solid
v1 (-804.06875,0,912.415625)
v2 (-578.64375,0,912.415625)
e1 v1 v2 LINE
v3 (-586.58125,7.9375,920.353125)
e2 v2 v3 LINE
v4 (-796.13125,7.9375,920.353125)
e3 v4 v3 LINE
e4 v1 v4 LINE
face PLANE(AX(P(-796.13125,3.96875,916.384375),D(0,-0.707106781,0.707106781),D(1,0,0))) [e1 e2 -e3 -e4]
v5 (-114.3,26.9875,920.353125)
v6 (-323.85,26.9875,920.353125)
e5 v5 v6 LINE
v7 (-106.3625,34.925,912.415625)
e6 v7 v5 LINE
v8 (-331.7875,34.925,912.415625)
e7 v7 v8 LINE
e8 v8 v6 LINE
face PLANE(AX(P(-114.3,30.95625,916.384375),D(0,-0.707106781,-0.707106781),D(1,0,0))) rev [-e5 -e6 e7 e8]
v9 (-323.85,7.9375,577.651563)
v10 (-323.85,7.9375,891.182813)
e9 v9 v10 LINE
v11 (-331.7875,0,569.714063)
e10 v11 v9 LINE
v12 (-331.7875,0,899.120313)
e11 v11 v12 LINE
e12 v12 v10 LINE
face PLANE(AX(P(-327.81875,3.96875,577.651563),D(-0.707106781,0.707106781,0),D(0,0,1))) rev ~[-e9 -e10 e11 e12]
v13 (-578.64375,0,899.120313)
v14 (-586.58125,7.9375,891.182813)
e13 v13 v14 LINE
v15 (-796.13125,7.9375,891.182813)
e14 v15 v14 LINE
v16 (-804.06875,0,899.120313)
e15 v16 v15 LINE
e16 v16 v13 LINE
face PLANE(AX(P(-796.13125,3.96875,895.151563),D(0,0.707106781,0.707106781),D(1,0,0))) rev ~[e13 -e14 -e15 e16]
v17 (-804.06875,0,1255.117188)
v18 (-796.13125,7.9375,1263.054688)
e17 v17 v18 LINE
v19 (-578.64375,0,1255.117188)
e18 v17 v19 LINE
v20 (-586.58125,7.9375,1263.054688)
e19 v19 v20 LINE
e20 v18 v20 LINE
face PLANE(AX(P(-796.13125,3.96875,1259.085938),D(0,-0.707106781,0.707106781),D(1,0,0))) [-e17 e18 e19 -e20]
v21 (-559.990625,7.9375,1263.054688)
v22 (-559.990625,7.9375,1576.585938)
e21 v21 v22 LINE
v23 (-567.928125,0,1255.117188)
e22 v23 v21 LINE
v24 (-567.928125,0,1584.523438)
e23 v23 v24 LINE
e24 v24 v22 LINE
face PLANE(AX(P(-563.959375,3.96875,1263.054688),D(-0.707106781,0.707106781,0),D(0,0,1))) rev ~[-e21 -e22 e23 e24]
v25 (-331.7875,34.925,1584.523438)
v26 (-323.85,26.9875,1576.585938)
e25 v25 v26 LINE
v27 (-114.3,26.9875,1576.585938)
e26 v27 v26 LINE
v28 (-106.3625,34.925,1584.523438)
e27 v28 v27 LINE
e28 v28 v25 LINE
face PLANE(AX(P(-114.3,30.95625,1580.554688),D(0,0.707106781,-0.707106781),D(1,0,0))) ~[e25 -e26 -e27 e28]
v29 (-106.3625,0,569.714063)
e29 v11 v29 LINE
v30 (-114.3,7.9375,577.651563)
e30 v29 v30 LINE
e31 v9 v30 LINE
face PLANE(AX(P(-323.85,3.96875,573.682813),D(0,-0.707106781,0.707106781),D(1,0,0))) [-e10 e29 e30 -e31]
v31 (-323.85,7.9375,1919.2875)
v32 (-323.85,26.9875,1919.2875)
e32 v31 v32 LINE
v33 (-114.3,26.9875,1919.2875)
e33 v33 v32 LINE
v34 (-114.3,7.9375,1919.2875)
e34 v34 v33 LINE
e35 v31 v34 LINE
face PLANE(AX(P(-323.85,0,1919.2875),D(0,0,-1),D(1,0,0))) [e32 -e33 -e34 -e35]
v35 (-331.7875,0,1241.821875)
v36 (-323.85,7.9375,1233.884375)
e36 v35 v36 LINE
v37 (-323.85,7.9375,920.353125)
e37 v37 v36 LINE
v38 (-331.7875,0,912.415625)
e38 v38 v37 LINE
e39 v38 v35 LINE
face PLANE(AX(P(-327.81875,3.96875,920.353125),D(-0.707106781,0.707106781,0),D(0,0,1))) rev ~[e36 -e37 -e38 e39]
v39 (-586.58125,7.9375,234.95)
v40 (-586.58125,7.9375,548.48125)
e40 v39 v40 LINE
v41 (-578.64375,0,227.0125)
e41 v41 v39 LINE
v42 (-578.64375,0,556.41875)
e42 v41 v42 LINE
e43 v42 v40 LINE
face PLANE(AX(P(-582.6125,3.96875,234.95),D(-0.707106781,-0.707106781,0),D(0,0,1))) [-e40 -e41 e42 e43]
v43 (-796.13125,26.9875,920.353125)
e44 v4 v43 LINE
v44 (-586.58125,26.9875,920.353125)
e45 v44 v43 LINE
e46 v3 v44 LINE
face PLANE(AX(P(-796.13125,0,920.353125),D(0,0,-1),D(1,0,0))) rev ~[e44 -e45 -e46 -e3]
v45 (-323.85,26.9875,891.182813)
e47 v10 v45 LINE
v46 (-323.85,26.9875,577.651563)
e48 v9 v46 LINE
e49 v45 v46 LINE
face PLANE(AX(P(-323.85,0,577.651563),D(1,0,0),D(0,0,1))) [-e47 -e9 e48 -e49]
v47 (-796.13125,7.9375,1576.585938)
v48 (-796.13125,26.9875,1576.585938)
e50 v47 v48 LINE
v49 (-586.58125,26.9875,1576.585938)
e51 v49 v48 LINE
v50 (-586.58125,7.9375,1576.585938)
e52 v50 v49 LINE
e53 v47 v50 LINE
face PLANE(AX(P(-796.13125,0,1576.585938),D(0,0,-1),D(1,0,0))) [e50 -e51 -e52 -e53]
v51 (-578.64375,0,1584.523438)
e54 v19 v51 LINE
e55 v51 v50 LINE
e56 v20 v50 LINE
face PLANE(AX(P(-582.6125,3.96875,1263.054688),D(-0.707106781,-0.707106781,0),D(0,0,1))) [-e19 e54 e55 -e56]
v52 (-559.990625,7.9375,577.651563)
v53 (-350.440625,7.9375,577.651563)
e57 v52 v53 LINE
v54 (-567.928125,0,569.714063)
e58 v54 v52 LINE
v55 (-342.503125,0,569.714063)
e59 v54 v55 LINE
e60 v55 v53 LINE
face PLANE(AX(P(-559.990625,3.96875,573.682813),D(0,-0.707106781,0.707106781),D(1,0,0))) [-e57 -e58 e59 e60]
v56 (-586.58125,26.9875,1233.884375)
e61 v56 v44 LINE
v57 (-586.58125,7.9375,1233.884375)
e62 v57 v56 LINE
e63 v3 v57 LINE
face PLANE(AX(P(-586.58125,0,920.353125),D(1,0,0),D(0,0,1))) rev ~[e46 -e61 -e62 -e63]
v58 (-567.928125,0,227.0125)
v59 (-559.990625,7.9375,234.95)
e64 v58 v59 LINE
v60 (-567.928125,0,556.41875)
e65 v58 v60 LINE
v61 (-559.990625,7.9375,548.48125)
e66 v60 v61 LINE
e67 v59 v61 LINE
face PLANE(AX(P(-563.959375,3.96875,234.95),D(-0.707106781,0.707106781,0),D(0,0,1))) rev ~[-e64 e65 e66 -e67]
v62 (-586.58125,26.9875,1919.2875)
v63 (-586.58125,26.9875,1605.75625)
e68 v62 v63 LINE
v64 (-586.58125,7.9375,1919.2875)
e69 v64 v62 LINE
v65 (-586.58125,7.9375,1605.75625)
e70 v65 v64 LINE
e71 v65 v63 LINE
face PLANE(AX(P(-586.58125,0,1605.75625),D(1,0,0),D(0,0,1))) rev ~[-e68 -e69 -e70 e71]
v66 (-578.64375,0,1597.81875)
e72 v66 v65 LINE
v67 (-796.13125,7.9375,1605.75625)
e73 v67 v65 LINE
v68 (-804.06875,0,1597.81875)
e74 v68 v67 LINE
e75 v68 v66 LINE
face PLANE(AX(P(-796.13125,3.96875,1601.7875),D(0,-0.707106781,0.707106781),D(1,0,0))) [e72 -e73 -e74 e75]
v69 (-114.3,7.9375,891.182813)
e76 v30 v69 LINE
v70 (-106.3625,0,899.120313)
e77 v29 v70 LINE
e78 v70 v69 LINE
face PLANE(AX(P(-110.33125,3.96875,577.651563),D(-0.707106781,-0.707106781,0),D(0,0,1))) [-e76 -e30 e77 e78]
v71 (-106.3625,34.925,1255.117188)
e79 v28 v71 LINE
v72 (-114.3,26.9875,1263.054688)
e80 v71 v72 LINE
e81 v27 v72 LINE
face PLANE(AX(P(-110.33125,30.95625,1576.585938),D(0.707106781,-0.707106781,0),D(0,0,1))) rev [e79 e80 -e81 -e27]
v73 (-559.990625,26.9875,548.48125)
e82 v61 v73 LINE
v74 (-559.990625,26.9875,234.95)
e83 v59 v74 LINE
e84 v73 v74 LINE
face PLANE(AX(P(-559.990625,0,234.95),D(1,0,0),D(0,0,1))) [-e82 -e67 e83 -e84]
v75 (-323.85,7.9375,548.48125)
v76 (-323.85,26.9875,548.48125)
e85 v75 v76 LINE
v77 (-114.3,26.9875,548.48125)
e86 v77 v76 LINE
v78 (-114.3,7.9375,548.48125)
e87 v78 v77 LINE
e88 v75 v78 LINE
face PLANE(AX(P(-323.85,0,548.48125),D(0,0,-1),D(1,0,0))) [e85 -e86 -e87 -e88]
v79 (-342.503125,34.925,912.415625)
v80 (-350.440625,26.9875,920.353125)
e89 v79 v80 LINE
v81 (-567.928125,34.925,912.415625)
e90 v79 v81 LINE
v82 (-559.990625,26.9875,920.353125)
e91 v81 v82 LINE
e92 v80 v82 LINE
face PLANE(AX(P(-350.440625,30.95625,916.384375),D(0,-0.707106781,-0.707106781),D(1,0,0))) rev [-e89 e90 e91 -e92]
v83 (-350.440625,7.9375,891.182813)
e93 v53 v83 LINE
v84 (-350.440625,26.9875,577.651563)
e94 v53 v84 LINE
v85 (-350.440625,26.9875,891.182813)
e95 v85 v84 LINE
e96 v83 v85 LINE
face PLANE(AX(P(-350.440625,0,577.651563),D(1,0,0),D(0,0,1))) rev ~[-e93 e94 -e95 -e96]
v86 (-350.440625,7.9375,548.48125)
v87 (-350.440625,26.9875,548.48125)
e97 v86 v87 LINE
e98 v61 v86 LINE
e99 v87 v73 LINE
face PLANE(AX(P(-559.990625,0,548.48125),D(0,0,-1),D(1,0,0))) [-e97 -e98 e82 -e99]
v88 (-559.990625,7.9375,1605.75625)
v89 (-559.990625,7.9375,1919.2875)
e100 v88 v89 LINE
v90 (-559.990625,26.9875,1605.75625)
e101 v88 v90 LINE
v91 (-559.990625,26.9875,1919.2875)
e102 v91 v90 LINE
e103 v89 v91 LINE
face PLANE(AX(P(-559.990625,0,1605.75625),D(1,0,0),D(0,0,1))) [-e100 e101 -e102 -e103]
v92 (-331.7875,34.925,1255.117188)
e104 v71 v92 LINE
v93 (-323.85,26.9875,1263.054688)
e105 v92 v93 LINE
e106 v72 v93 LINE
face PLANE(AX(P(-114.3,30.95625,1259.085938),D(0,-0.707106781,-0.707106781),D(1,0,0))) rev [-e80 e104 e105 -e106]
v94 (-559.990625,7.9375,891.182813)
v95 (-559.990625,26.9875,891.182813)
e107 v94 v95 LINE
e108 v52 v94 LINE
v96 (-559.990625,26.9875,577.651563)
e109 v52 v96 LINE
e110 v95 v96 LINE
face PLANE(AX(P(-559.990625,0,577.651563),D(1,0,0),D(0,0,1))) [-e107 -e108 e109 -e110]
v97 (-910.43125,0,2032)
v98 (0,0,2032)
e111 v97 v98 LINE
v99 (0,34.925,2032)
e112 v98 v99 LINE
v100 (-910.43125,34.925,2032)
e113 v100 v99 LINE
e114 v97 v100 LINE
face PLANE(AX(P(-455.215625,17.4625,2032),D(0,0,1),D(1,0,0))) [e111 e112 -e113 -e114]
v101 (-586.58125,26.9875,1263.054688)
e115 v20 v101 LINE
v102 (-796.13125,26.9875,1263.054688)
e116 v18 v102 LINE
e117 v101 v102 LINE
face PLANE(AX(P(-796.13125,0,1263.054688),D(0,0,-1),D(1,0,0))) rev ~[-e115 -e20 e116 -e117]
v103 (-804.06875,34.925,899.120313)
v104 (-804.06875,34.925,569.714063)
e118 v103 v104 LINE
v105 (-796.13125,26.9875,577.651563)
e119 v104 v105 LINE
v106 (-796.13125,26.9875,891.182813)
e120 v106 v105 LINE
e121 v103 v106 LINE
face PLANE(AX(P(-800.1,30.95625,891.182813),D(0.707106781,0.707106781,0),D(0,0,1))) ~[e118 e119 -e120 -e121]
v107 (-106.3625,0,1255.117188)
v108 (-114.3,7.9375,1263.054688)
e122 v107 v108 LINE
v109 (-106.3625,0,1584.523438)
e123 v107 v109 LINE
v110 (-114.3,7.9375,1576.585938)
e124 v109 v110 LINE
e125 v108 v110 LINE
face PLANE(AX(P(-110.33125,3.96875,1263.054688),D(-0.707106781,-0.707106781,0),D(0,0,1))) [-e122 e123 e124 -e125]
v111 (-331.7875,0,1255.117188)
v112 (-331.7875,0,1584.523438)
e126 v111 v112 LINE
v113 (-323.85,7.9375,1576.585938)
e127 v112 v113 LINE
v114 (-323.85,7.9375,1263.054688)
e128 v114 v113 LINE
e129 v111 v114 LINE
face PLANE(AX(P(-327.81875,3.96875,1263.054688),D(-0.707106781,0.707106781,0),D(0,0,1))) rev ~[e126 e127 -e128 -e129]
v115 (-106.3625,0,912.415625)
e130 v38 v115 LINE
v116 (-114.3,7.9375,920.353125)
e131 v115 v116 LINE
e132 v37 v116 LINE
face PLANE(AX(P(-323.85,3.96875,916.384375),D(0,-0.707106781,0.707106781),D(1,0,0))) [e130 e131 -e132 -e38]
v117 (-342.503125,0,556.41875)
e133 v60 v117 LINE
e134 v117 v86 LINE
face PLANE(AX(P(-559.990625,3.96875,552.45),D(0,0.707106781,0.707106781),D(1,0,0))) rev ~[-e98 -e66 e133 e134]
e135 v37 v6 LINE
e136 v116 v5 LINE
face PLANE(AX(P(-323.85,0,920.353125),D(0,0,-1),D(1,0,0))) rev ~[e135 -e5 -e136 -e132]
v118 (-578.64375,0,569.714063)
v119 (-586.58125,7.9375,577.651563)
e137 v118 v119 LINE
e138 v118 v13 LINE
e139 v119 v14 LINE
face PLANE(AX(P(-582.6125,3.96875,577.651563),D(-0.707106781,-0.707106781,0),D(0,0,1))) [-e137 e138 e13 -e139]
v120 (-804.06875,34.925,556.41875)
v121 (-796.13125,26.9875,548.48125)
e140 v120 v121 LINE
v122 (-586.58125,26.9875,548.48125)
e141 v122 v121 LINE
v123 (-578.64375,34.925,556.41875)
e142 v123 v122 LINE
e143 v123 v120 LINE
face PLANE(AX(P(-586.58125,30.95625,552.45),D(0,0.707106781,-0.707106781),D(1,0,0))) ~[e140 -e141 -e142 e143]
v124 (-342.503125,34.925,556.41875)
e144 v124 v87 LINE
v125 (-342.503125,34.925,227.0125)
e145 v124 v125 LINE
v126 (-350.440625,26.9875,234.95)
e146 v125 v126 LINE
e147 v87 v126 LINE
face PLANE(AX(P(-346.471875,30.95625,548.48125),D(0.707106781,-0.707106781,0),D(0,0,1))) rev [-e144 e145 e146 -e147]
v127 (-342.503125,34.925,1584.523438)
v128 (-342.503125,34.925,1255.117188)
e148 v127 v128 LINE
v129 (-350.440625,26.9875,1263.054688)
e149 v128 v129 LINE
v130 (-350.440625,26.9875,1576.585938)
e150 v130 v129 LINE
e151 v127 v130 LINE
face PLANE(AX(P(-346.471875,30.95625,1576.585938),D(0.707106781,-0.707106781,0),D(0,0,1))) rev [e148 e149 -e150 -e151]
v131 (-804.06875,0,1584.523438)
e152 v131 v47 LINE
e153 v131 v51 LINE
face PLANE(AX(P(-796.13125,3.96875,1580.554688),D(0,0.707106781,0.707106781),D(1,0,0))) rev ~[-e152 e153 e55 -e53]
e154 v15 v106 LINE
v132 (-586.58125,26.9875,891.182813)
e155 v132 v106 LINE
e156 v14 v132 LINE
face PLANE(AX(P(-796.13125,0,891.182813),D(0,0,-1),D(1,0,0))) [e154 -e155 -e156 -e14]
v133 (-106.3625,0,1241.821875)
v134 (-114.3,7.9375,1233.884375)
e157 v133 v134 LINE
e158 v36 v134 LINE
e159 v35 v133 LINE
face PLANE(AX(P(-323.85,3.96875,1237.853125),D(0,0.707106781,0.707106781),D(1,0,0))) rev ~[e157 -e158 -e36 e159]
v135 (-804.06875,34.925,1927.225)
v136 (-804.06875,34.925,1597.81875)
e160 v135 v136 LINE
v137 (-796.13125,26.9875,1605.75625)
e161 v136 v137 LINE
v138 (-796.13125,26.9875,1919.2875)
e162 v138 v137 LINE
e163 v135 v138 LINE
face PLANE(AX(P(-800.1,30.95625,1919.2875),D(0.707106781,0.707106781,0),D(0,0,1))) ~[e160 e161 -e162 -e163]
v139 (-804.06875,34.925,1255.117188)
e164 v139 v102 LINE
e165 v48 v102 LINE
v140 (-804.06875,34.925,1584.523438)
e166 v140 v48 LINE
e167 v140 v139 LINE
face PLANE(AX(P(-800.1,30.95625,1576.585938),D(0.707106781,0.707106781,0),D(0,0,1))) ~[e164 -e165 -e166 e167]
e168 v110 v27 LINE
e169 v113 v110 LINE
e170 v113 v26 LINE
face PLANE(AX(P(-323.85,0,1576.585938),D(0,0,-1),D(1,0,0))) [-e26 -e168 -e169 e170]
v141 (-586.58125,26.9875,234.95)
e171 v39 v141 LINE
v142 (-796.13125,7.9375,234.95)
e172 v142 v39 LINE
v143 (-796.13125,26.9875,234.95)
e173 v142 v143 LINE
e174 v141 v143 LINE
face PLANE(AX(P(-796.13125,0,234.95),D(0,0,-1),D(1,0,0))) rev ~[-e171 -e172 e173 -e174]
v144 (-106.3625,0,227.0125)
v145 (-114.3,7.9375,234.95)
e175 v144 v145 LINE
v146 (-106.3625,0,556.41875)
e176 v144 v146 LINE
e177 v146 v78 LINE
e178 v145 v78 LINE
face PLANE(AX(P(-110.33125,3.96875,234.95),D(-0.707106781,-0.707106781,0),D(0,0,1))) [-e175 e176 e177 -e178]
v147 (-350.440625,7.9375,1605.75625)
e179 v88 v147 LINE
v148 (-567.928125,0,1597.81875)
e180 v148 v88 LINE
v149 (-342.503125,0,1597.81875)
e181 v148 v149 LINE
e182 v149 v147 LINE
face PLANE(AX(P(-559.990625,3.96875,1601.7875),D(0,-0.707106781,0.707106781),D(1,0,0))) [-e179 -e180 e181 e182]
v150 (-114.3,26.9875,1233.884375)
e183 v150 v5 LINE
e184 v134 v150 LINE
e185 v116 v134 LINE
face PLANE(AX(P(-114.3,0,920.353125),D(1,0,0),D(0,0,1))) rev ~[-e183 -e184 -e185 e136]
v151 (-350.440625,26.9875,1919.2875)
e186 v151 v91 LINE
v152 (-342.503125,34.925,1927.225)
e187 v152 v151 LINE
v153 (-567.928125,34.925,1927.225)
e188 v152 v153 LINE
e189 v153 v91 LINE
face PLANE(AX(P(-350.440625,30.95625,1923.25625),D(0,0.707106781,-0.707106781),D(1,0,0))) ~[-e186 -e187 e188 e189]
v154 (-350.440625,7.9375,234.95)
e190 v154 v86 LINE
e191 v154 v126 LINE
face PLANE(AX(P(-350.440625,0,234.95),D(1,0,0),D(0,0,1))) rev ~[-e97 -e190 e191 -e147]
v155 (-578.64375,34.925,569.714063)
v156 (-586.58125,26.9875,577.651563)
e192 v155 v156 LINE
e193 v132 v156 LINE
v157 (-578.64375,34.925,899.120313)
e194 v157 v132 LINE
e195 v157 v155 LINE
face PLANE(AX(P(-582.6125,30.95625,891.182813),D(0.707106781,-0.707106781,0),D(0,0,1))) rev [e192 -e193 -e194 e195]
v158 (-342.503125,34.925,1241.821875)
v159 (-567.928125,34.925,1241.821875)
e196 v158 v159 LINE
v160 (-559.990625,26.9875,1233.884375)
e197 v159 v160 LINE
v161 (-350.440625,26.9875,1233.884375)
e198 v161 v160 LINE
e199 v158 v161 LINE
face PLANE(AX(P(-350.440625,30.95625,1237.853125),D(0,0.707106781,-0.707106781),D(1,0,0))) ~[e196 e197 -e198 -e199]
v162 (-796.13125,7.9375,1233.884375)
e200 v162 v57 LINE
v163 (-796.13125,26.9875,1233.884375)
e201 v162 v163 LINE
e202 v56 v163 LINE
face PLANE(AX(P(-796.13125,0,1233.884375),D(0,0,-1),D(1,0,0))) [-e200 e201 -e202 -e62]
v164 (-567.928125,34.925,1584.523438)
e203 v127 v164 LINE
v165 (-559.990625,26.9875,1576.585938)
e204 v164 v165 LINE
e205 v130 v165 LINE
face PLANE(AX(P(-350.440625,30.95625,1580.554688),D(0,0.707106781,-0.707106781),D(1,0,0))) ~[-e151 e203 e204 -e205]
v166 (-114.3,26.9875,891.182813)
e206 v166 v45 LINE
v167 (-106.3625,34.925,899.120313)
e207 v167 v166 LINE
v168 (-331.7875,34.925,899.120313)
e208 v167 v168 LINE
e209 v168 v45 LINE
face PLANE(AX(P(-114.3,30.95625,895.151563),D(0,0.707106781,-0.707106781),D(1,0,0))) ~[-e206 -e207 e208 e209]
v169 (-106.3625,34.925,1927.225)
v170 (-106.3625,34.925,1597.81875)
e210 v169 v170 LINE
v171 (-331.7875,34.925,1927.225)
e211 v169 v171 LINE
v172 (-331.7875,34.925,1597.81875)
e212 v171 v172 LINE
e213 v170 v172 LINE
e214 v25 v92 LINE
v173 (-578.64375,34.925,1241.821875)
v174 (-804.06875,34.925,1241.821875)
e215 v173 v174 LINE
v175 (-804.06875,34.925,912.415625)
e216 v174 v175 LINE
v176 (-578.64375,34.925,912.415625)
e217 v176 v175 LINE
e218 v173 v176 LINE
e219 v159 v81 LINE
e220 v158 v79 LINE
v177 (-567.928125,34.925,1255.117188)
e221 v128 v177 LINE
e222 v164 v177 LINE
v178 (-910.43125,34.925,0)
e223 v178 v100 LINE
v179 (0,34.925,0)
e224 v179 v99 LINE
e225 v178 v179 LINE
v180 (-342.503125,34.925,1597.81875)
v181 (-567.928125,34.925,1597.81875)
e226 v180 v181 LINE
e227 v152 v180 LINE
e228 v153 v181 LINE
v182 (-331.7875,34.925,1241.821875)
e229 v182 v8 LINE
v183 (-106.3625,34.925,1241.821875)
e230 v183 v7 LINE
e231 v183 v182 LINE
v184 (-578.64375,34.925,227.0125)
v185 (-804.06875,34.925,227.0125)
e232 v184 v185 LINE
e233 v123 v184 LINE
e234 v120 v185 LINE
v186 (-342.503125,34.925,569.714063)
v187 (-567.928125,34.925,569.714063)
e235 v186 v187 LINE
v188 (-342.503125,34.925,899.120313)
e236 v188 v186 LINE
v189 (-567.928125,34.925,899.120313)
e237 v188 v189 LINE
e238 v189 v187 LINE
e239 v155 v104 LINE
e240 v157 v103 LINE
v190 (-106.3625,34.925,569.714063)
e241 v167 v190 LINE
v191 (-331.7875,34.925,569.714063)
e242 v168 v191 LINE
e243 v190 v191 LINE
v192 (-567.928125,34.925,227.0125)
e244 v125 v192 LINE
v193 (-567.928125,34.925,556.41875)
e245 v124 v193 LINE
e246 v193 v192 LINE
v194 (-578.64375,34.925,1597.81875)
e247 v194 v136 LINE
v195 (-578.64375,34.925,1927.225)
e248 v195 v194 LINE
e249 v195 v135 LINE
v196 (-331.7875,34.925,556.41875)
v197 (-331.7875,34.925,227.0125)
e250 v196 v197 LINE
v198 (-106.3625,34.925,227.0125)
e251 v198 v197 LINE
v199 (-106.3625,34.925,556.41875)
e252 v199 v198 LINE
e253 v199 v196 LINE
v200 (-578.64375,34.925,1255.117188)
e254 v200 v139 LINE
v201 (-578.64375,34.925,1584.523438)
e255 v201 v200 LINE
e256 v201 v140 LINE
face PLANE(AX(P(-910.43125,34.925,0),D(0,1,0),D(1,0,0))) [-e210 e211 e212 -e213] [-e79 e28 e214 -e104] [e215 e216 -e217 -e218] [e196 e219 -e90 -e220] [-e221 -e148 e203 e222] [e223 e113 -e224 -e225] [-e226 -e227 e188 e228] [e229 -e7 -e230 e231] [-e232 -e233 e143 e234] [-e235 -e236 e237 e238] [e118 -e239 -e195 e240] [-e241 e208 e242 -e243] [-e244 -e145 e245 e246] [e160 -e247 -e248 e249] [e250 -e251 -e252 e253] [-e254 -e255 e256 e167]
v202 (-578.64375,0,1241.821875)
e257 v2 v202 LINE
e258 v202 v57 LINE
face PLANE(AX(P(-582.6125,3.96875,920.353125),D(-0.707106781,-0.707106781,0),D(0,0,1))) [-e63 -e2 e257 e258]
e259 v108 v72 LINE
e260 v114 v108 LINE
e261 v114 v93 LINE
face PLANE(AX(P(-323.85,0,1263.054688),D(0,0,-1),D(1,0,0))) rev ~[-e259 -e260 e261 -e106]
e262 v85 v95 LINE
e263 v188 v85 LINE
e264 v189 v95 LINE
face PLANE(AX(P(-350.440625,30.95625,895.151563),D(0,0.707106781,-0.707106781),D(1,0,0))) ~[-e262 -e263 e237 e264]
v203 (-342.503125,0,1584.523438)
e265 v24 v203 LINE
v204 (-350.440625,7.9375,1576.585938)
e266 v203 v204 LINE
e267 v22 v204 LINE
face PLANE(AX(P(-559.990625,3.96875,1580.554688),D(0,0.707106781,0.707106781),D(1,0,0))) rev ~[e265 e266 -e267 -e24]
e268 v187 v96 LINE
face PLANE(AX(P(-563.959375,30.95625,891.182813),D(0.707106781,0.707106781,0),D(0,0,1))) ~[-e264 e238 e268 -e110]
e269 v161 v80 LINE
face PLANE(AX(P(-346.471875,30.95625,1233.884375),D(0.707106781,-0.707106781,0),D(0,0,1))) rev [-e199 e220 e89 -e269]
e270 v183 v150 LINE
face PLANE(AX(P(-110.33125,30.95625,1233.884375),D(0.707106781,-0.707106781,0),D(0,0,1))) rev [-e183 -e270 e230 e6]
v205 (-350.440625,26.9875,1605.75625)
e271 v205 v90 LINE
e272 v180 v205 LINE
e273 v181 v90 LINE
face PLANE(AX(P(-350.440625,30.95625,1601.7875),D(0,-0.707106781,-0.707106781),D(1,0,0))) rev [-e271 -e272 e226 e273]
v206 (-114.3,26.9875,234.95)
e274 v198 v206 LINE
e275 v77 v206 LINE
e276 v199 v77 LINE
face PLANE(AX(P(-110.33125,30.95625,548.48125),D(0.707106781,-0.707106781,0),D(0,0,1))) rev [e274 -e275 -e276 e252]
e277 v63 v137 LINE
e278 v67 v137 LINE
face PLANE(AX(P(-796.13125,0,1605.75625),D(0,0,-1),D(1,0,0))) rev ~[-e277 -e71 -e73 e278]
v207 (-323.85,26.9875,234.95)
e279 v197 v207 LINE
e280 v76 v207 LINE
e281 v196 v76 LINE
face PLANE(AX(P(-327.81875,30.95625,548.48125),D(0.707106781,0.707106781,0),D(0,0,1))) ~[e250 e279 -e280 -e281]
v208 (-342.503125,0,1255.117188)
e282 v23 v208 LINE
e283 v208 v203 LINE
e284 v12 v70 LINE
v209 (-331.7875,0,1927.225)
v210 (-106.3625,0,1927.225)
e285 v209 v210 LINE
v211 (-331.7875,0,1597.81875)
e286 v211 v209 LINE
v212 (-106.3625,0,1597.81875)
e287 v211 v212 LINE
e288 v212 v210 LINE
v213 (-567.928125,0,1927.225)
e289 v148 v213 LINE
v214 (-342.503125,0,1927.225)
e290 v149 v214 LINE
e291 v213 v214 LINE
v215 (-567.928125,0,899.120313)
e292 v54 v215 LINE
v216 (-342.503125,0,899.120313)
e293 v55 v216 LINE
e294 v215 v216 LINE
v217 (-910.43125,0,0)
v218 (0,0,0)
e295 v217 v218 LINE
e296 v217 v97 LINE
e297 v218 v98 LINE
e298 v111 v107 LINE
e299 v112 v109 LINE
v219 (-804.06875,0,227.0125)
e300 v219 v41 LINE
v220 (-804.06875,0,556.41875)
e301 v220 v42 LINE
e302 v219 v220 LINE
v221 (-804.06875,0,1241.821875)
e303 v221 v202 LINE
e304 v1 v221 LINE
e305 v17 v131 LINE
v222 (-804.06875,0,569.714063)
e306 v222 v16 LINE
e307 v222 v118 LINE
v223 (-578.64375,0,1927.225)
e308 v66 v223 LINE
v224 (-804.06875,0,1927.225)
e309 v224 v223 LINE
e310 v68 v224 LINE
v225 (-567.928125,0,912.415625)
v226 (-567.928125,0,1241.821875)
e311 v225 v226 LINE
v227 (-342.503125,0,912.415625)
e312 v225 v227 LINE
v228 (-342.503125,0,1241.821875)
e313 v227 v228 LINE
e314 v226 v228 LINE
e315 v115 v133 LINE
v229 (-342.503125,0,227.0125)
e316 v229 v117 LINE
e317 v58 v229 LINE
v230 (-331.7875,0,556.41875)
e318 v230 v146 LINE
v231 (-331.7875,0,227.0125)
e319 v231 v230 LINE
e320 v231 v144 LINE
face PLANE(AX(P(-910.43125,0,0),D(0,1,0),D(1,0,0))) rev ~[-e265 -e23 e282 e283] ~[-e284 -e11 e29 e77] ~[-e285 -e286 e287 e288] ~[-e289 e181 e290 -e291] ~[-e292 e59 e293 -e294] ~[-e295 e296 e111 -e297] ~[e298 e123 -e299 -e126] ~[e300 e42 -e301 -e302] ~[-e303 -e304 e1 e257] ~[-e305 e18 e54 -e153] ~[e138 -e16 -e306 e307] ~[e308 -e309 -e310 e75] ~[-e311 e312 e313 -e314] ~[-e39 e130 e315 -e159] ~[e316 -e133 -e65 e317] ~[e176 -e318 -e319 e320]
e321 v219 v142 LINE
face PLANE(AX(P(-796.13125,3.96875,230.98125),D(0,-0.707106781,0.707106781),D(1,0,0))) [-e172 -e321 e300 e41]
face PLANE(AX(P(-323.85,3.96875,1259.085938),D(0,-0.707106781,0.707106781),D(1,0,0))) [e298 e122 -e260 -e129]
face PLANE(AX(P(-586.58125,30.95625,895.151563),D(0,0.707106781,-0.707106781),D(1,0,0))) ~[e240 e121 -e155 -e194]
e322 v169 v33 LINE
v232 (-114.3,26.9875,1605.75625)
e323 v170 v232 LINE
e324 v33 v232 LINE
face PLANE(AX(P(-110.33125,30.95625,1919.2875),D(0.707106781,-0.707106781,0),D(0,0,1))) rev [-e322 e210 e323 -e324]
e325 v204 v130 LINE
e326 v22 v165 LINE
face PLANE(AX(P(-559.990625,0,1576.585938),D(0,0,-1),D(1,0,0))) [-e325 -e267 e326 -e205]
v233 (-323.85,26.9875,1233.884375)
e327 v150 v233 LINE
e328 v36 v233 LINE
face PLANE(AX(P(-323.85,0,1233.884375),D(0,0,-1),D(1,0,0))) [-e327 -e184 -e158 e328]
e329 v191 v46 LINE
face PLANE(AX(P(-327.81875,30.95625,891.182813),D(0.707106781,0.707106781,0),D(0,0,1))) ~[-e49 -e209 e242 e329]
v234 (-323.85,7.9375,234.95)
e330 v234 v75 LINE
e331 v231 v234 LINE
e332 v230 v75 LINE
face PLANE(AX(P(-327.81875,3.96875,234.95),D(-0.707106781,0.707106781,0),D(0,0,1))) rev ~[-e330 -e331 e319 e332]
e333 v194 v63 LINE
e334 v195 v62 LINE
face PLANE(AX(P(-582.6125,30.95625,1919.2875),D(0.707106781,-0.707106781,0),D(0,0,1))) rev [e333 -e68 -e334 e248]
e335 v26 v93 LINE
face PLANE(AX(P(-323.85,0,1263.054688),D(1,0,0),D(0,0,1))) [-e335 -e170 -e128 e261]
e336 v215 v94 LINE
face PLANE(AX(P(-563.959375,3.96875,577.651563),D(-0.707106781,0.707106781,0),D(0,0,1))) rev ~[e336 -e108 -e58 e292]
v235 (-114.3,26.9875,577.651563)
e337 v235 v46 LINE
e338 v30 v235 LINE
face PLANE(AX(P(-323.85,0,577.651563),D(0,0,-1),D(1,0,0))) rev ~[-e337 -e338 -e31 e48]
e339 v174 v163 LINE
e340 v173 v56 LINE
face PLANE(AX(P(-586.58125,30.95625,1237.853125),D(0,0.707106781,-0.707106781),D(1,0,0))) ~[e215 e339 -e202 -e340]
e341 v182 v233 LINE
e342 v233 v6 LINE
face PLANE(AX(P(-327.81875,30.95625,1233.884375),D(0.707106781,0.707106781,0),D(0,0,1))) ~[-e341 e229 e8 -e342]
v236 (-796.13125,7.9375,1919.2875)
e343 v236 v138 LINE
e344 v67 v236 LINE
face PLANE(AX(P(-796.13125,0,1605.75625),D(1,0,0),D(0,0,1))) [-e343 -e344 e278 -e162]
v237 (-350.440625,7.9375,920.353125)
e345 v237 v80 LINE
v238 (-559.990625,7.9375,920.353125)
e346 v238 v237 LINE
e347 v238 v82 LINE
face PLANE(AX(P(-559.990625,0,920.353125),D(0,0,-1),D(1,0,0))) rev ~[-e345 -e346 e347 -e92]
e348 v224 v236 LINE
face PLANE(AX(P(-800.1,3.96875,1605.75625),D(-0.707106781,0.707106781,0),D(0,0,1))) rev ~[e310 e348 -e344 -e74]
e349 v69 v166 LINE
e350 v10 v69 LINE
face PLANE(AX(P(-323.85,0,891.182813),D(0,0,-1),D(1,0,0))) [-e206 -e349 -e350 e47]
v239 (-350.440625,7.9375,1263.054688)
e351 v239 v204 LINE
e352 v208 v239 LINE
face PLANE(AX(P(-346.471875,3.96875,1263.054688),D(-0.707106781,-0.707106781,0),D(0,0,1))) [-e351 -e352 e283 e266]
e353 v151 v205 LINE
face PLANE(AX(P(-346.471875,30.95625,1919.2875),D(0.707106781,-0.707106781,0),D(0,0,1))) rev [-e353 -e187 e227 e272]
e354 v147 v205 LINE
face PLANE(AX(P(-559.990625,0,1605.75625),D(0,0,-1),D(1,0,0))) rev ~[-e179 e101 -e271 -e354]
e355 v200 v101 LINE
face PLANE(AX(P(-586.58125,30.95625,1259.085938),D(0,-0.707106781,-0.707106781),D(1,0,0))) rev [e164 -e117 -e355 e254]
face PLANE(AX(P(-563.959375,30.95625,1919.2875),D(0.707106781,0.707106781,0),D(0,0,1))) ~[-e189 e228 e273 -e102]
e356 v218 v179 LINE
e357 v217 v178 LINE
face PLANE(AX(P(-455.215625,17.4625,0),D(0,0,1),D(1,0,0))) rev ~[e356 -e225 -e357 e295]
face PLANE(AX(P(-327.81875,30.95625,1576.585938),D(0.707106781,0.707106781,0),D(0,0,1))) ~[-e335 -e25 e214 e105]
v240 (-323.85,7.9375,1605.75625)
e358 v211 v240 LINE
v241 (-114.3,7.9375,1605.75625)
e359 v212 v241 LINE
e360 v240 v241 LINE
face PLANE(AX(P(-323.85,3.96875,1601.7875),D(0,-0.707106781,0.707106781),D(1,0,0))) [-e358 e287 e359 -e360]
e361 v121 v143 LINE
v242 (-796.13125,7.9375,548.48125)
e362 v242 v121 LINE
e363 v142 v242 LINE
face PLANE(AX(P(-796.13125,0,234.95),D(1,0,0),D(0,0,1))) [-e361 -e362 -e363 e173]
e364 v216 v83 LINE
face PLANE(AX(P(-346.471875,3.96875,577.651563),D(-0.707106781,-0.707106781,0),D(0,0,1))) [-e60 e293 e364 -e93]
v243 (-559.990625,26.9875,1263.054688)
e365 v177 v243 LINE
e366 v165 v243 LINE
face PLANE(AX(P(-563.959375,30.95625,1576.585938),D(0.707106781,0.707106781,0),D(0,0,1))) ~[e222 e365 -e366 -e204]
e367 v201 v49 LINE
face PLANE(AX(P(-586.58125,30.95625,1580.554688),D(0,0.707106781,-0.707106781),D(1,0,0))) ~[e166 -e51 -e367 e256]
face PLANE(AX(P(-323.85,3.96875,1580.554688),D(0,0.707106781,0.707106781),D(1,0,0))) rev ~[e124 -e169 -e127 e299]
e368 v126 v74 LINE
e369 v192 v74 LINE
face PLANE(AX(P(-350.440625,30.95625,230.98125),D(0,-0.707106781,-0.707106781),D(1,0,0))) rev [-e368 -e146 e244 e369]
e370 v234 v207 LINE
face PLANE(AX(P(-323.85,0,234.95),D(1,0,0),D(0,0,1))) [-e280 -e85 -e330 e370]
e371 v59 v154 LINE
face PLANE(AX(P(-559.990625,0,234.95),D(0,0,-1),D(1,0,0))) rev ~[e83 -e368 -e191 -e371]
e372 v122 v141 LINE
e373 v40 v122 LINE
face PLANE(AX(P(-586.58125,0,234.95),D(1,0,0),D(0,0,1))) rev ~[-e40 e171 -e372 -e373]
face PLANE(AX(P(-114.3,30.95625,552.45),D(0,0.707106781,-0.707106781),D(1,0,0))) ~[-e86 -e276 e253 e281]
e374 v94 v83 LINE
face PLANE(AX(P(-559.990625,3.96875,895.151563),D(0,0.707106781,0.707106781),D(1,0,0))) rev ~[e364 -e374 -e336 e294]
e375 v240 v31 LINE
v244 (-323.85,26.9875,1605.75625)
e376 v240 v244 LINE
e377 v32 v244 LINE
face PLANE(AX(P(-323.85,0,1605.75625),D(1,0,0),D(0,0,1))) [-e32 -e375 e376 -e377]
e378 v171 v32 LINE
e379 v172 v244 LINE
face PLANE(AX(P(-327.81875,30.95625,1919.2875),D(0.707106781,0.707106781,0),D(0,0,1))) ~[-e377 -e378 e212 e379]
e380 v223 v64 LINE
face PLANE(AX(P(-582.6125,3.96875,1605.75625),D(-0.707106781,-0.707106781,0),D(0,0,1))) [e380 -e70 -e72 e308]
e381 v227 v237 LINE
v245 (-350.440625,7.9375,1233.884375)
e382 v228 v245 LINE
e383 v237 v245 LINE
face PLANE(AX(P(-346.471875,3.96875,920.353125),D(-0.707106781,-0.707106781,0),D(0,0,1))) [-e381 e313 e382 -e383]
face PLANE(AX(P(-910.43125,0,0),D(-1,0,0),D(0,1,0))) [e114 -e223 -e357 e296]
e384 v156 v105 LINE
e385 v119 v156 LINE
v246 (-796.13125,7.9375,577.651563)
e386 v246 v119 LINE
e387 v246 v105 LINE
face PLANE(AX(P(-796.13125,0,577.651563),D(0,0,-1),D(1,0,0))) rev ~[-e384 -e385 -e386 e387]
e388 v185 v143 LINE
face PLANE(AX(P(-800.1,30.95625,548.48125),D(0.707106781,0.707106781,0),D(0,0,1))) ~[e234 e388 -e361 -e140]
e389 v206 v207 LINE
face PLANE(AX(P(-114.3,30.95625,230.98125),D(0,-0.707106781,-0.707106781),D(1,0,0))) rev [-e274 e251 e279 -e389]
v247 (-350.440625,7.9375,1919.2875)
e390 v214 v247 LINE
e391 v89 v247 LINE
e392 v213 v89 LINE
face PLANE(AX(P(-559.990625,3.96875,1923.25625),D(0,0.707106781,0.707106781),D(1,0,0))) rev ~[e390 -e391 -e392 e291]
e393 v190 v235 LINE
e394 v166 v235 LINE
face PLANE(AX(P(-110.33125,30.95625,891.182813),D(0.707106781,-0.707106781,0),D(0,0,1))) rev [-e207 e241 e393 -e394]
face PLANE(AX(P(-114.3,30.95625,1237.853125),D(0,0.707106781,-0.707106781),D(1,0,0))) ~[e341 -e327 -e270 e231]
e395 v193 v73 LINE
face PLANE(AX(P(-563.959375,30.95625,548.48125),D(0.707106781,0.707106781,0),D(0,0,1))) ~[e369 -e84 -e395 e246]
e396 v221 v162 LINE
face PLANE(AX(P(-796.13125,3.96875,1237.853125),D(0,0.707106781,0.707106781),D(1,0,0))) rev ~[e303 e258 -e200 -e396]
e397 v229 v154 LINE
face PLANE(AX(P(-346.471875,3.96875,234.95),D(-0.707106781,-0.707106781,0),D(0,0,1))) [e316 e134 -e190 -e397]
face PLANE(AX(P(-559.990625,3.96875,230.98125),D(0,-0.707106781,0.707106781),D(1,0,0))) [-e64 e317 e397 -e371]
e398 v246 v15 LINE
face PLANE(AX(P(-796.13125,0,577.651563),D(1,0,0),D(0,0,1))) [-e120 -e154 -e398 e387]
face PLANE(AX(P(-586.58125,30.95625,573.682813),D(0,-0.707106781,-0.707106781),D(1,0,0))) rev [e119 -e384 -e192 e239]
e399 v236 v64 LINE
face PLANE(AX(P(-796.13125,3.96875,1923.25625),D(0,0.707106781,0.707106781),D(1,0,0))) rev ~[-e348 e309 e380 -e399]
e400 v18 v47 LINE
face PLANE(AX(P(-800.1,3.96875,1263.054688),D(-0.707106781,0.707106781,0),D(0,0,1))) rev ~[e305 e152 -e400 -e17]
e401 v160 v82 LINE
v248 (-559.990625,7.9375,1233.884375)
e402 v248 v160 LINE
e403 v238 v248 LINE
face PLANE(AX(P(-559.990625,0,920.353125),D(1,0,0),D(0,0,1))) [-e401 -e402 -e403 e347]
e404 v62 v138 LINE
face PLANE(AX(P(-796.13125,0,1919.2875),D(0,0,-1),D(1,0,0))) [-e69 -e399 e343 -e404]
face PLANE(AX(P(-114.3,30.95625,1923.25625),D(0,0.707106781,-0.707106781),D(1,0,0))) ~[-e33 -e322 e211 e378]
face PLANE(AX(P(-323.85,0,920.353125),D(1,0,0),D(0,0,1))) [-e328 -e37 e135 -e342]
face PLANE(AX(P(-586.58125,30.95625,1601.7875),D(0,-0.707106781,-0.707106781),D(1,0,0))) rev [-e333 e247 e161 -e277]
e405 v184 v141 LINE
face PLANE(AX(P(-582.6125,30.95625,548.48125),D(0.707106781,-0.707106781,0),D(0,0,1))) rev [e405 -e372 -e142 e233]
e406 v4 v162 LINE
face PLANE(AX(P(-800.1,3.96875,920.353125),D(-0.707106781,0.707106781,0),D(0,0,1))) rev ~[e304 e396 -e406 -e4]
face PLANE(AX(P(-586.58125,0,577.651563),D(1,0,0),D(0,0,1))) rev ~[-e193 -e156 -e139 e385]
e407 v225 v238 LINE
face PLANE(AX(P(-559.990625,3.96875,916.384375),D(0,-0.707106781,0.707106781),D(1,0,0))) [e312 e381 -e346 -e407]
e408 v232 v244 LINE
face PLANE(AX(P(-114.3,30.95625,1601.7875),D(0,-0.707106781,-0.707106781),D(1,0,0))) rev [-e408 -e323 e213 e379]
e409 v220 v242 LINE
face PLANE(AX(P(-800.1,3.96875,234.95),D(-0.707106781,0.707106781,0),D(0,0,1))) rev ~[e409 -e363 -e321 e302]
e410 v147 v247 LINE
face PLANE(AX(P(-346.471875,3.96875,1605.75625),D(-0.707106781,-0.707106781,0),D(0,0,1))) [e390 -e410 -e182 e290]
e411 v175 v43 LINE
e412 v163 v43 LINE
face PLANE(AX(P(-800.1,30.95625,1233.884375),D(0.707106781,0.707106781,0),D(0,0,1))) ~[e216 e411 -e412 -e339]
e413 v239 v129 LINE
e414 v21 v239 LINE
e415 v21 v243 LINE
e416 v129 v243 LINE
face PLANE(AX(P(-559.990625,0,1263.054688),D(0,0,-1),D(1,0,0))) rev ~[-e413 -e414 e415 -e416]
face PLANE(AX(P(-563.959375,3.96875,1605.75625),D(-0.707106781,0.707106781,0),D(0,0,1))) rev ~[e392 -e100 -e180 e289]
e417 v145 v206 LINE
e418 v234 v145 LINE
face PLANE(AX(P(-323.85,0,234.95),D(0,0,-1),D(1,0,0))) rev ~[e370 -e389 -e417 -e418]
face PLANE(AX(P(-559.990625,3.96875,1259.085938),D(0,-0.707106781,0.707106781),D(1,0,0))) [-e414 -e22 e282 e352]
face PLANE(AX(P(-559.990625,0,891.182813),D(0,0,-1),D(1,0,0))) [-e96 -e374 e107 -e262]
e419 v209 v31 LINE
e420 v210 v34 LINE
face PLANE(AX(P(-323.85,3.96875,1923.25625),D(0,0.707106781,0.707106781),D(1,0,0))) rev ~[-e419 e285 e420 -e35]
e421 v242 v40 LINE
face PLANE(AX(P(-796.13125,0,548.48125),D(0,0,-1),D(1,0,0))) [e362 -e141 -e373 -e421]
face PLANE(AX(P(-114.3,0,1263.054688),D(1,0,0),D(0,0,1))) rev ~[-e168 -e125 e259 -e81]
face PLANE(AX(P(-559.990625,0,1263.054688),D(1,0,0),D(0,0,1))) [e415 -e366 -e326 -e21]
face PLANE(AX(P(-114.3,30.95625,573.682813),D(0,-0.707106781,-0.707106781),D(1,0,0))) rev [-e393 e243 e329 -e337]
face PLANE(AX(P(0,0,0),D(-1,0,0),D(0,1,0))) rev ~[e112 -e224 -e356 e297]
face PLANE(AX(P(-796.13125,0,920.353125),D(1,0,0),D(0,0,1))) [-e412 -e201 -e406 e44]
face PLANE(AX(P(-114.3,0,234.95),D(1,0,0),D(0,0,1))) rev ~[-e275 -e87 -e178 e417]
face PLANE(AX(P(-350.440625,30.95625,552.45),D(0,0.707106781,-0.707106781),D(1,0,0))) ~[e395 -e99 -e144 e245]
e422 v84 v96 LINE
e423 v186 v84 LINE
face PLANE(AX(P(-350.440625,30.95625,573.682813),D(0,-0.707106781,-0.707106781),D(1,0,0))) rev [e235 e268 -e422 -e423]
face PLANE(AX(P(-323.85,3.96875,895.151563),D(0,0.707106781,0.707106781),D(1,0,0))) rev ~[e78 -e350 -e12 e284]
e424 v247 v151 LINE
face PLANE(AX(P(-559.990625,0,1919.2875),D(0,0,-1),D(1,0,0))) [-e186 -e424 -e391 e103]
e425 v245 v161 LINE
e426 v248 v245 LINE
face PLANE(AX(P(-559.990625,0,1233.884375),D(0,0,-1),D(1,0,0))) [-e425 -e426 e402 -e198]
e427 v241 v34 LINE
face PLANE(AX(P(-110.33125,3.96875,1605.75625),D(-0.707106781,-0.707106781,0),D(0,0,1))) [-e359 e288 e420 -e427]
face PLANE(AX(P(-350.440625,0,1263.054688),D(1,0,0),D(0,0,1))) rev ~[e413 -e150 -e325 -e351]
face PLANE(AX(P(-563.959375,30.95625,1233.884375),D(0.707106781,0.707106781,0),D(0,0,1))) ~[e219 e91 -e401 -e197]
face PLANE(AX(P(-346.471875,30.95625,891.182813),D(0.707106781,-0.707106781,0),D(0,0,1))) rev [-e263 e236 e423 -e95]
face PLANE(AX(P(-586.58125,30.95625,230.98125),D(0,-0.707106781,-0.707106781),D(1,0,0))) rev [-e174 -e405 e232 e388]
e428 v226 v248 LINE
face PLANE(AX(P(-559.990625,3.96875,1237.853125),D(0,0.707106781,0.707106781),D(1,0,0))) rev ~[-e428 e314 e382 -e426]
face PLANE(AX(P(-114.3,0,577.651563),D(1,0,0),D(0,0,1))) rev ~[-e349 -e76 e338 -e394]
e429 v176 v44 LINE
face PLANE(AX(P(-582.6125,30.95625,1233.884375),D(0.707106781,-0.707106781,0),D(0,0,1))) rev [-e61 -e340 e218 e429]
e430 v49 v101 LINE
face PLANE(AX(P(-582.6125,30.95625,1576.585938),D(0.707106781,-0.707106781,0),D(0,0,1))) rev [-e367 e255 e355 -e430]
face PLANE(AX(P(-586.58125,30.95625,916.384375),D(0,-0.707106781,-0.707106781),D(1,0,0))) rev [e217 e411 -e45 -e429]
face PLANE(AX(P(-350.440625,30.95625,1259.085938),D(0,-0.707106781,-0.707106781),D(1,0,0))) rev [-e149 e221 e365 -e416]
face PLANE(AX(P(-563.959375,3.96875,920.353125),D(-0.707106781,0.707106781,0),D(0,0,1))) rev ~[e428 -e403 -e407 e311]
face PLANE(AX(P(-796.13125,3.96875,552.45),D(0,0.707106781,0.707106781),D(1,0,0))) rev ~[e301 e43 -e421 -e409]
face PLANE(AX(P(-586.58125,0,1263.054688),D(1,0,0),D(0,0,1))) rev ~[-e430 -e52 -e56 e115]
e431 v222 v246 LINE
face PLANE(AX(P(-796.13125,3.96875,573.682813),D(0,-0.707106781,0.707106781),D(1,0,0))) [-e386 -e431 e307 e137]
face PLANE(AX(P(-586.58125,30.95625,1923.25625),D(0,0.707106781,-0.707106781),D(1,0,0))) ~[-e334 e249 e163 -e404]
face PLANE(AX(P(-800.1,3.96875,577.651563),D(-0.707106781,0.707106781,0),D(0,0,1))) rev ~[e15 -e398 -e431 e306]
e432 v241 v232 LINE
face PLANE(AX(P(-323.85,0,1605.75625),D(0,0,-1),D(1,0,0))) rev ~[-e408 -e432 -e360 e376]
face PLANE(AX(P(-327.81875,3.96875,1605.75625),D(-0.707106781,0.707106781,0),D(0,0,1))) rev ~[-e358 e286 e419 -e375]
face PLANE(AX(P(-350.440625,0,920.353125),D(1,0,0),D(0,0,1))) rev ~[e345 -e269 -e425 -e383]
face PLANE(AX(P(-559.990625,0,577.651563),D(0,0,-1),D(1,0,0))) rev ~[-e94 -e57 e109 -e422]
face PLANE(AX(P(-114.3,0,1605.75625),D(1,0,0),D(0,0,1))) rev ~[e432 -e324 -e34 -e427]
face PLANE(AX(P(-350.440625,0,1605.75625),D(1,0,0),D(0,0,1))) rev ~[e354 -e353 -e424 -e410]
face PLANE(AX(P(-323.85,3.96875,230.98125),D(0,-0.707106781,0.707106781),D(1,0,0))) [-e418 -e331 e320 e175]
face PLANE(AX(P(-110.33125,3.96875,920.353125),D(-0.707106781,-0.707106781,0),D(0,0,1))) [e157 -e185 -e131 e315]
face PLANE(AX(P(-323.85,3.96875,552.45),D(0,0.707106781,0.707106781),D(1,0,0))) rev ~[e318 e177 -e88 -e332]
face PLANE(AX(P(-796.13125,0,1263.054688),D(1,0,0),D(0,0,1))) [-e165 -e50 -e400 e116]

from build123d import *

# Parameters (mm, degrees)
F0_W     = 910.43125
F0_H     = 34.925
F1_DEPTH = 2032
F2_W     = 209.55
F2_H     = 313.53125
F3_DEPTH = 34.926
F4_SIZE  = 7.9375


with BuildPart() as f1:
    # F0 (on Top) → F1 (new body)
    with BuildSketch(Plane.XY):
        with Locations((-455.215625, 17.4625)):
            Rectangle(F0_W, F0_H)
    extrude(amount=F1_DEPTH)

    # F2 (on Front) → F3 (cut, through all)
    with BuildSketch(Plane.XZ):
        with Locations((-691.35625, 391.715625)):
            Rectangle(F2_W, F2_H)
        with Locations((-455.215625, 391.715625)):
            Rectangle(F2_W, F2_H)
        with Locations((-219.075, 391.715625)):
            Rectangle(F2_W, F2_H)
        with Locations((-691.35625, 734.417188)):
            Rectangle(F2_W, F2_H)
        with Locations((-455.215625, 734.417188)):
            Rectangle(F2_W, F2_H)
        with Locations((-219.075, 734.417188)):
            Rectangle(F2_W, F2_H)
        with Locations((-691.35625, 1077.11875)):
            Rectangle(F2_W, F2_H)
        with Locations((-455.215625, 1077.11875)):
            Rectangle(F2_W, F2_H)
        with Locations((-219.075, 1077.11875)):
            Rectangle(F2_W, F2_H)
        with Locations((-691.35625, 1419.820313)):
            Rectangle(F2_W, F2_H)
        with Locations((-455.215625, 1419.820313)):
            Rectangle(F2_W, F2_H)
        with Locations((-219.075, 1419.820313)):
            Rectangle(F2_W, F2_H)
        with Locations((-691.35625, 1762.521875)):
            Rectangle(F2_W, F2_H)
        with Locations((-455.215625, 1762.521875)):
            Rectangle(F2_W, F2_H)
        with Locations((-219.075, 1762.521875)):
            Rectangle(F2_W, F2_H)
    extrude(amount=-F3_DEPTH, mode=Mode.SUBTRACT)

    # F4
    f4_edges = [f1.edges().sort_by_distance(p)[0] for p in [
        (-586.58125, 0, 1762.521875),
        (-691.35625, 0, 1605.75625),
        (-559.990625, 0, 1762.521875),
        (-455.215625, 0, 1605.75625),
        (-559.990625, 0, 1419.820313),
        (-691.35625, 0, 1576.585938),
        (-586.58125, 0, 1419.820313),
        (-350.440625, 0, 1762.521875),
        (-455.215625, 0, 1576.585938),
        (-350.440625, 0, 1419.820313),
        (-323.85, 0, 1419.820313),
        (-219.075, 0, 1576.585938),
        (-219.075, 0, 1605.75625),
        (-323.85, 0, 1762.521875),
        (-691.35625, 0, 1263.054688),
        (-691.35625, 0, 1233.884375),
        (-691.35625, 0, 920.353125),
        (-691.35625, 0, 891.182813),
        (-691.35625, 0, 577.651563),
        (-691.35625, 0, 548.48125),
        (-691.35625, 0, 234.95),
        (-691.35625, 0, 1919.2875),
        (-796.13125, 0, 1762.521875),
        (-796.13125, 0, 1419.820312),
        (-796.13125, 0, 1077.11875),
        (-796.13125, 0, 734.417188),
        (-796.13125, 0, 391.715625),
        (-586.58125, 0, 391.715625),
        (-586.58125, 0, 734.417188),
        (-586.58125, 0, 1077.11875),
        (-455.215625, 0, 1919.2875),
        (-219.075, 0, 1919.2875),
        (-114.3, 0, 1762.521875),
        (-114.3, 0, 1419.820312),
        (-114.3, 0, 1077.11875),
        (-114.3, 0, 734.417188),
        (-114.3, 0, 391.715625),
        (-219.075, 0, 234.95),
        (-455.215625, 0, 234.95),
        (-559.990625, 0, 391.715625),
        (-559.990625, 0, 734.417188),
        (-559.990625, 0, 1077.11875),
        (-323.85, 0, 391.715625),
        (-350.440625, 0, 391.715625),
        (-455.215625, 0, 548.48125),
        (-219.075, 0, 548.48125),
        (-219.075, 0, 577.651563),
        (-455.215625, 0, 577.651563),
        (-350.440625, 0, 734.417188),
        (-323.85, 0, 734.417188),
        (-219.075, 0, 891.182813),
        (-455.215625, 0, 891.182813),
        (-455.215625, 0, 920.353125),
        (-219.075, 0, 920.353125),
        (-323.85, 0, 1077.11875),
        (-350.440625, 0, 1077.11875),
        (-455.215625, 0, 1233.884375),
        (-455.215625, 0, 1263.054688),
        (-219.075, 0, 1263.054688),
        (-219.075, 0, 1233.884375),
        (-691.35625, 34.925, 234.95),
        (-455.215625, 34.925, 234.95),
        (-219.075, 34.925, 234.95),
        (-114.3, 34.925, 391.715625),
        (-114.3, 34.925, 734.417188),
        (-114.3, 34.925, 1077.11875),
        (-114.3, 34.925, 1419.820312),
        (-114.3, 34.925, 1762.521875),
        (-219.075, 34.925, 1919.2875),
        (-455.215625, 34.925, 1919.2875),
        (-691.35625, 34.925, 1919.2875),
        (-796.13125, 34.925, 1762.521875),
        (-796.13125, 34.925, 1419.820312),
        (-796.13125, 34.925, 1077.11875),
        (-796.13125, 34.925, 734.417188),
        (-796.13125, 34.925, 391.715625),
        (-586.58125, 34.925, 391.715625),
        (-559.990625, 34.925, 391.715625),
        (-350.440625, 34.925, 391.715625),
        (-323.85, 34.925, 391.715625),
        (-219.075, 34.925, 548.48125),
        (-219.075, 34.925, 577.651563),
        (-455.215625, 34.925, 577.651563),
        (-455.215625, 34.925, 548.48125),
        (-691.35625, 34.925, 548.48125),
        (-691.35625, 34.925, 577.651563),
        (-586.58125, 34.925, 734.417188),
        (-559.990625, 34.925, 734.417188),
        (-350.440625, 34.925, 734.417188),
        (-323.85, 34.925, 734.417188),
        (-219.075, 34.925, 891.182813),
        (-219.075, 34.925, 920.353125),
        (-455.215625, 34.925, 920.353125),
        (-455.215625, 34.925, 891.182813),
        (-691.35625, 34.925, 891.182813),
        (-691.35625, 34.925, 920.353125),
        (-586.58125, 34.925, 1077.11875),
        (-559.990625, 34.925, 1077.11875),
        (-350.440625, 34.925, 1077.11875),
        (-323.85, 34.925, 1077.11875),
        (-691.35625, 34.925, 1233.884375),
        (-455.215625, 34.925, 1233.884375),
        (-219.075, 34.925, 1233.884375),
        (-219.075, 34.925, 1263.054688),
        (-455.215625, 34.925, 1263.054688),
        (-691.35625, 34.925, 1263.054688),
        (-586.58125, 34.925, 1419.820312),
        (-559.990625, 34.925, 1419.820312),
        (-350.440625, 34.925, 1419.820312),
        (-323.85, 34.925, 1419.820312),
        (-219.075, 34.925, 1576.585938),
        (-219.075, 34.925, 1605.75625),
        (-455.215625, 34.925, 1605.75625),
        (-455.215625, 34.925, 1576.585938),
        (-691.35625, 34.925, 1605.75625),
        (-691.35625, 34.925, 1576.585938),
        (-586.58125, 34.925, 1762.521875),
        (-559.990625, 34.925, 1762.521875),
        (-350.440625, 34.925, 1762.521875),
        (-323.85, 34.925, 1762.521875),
    ]]
    chamfer(f4_edges, length=F4_SIZE)


solid = f1.part
